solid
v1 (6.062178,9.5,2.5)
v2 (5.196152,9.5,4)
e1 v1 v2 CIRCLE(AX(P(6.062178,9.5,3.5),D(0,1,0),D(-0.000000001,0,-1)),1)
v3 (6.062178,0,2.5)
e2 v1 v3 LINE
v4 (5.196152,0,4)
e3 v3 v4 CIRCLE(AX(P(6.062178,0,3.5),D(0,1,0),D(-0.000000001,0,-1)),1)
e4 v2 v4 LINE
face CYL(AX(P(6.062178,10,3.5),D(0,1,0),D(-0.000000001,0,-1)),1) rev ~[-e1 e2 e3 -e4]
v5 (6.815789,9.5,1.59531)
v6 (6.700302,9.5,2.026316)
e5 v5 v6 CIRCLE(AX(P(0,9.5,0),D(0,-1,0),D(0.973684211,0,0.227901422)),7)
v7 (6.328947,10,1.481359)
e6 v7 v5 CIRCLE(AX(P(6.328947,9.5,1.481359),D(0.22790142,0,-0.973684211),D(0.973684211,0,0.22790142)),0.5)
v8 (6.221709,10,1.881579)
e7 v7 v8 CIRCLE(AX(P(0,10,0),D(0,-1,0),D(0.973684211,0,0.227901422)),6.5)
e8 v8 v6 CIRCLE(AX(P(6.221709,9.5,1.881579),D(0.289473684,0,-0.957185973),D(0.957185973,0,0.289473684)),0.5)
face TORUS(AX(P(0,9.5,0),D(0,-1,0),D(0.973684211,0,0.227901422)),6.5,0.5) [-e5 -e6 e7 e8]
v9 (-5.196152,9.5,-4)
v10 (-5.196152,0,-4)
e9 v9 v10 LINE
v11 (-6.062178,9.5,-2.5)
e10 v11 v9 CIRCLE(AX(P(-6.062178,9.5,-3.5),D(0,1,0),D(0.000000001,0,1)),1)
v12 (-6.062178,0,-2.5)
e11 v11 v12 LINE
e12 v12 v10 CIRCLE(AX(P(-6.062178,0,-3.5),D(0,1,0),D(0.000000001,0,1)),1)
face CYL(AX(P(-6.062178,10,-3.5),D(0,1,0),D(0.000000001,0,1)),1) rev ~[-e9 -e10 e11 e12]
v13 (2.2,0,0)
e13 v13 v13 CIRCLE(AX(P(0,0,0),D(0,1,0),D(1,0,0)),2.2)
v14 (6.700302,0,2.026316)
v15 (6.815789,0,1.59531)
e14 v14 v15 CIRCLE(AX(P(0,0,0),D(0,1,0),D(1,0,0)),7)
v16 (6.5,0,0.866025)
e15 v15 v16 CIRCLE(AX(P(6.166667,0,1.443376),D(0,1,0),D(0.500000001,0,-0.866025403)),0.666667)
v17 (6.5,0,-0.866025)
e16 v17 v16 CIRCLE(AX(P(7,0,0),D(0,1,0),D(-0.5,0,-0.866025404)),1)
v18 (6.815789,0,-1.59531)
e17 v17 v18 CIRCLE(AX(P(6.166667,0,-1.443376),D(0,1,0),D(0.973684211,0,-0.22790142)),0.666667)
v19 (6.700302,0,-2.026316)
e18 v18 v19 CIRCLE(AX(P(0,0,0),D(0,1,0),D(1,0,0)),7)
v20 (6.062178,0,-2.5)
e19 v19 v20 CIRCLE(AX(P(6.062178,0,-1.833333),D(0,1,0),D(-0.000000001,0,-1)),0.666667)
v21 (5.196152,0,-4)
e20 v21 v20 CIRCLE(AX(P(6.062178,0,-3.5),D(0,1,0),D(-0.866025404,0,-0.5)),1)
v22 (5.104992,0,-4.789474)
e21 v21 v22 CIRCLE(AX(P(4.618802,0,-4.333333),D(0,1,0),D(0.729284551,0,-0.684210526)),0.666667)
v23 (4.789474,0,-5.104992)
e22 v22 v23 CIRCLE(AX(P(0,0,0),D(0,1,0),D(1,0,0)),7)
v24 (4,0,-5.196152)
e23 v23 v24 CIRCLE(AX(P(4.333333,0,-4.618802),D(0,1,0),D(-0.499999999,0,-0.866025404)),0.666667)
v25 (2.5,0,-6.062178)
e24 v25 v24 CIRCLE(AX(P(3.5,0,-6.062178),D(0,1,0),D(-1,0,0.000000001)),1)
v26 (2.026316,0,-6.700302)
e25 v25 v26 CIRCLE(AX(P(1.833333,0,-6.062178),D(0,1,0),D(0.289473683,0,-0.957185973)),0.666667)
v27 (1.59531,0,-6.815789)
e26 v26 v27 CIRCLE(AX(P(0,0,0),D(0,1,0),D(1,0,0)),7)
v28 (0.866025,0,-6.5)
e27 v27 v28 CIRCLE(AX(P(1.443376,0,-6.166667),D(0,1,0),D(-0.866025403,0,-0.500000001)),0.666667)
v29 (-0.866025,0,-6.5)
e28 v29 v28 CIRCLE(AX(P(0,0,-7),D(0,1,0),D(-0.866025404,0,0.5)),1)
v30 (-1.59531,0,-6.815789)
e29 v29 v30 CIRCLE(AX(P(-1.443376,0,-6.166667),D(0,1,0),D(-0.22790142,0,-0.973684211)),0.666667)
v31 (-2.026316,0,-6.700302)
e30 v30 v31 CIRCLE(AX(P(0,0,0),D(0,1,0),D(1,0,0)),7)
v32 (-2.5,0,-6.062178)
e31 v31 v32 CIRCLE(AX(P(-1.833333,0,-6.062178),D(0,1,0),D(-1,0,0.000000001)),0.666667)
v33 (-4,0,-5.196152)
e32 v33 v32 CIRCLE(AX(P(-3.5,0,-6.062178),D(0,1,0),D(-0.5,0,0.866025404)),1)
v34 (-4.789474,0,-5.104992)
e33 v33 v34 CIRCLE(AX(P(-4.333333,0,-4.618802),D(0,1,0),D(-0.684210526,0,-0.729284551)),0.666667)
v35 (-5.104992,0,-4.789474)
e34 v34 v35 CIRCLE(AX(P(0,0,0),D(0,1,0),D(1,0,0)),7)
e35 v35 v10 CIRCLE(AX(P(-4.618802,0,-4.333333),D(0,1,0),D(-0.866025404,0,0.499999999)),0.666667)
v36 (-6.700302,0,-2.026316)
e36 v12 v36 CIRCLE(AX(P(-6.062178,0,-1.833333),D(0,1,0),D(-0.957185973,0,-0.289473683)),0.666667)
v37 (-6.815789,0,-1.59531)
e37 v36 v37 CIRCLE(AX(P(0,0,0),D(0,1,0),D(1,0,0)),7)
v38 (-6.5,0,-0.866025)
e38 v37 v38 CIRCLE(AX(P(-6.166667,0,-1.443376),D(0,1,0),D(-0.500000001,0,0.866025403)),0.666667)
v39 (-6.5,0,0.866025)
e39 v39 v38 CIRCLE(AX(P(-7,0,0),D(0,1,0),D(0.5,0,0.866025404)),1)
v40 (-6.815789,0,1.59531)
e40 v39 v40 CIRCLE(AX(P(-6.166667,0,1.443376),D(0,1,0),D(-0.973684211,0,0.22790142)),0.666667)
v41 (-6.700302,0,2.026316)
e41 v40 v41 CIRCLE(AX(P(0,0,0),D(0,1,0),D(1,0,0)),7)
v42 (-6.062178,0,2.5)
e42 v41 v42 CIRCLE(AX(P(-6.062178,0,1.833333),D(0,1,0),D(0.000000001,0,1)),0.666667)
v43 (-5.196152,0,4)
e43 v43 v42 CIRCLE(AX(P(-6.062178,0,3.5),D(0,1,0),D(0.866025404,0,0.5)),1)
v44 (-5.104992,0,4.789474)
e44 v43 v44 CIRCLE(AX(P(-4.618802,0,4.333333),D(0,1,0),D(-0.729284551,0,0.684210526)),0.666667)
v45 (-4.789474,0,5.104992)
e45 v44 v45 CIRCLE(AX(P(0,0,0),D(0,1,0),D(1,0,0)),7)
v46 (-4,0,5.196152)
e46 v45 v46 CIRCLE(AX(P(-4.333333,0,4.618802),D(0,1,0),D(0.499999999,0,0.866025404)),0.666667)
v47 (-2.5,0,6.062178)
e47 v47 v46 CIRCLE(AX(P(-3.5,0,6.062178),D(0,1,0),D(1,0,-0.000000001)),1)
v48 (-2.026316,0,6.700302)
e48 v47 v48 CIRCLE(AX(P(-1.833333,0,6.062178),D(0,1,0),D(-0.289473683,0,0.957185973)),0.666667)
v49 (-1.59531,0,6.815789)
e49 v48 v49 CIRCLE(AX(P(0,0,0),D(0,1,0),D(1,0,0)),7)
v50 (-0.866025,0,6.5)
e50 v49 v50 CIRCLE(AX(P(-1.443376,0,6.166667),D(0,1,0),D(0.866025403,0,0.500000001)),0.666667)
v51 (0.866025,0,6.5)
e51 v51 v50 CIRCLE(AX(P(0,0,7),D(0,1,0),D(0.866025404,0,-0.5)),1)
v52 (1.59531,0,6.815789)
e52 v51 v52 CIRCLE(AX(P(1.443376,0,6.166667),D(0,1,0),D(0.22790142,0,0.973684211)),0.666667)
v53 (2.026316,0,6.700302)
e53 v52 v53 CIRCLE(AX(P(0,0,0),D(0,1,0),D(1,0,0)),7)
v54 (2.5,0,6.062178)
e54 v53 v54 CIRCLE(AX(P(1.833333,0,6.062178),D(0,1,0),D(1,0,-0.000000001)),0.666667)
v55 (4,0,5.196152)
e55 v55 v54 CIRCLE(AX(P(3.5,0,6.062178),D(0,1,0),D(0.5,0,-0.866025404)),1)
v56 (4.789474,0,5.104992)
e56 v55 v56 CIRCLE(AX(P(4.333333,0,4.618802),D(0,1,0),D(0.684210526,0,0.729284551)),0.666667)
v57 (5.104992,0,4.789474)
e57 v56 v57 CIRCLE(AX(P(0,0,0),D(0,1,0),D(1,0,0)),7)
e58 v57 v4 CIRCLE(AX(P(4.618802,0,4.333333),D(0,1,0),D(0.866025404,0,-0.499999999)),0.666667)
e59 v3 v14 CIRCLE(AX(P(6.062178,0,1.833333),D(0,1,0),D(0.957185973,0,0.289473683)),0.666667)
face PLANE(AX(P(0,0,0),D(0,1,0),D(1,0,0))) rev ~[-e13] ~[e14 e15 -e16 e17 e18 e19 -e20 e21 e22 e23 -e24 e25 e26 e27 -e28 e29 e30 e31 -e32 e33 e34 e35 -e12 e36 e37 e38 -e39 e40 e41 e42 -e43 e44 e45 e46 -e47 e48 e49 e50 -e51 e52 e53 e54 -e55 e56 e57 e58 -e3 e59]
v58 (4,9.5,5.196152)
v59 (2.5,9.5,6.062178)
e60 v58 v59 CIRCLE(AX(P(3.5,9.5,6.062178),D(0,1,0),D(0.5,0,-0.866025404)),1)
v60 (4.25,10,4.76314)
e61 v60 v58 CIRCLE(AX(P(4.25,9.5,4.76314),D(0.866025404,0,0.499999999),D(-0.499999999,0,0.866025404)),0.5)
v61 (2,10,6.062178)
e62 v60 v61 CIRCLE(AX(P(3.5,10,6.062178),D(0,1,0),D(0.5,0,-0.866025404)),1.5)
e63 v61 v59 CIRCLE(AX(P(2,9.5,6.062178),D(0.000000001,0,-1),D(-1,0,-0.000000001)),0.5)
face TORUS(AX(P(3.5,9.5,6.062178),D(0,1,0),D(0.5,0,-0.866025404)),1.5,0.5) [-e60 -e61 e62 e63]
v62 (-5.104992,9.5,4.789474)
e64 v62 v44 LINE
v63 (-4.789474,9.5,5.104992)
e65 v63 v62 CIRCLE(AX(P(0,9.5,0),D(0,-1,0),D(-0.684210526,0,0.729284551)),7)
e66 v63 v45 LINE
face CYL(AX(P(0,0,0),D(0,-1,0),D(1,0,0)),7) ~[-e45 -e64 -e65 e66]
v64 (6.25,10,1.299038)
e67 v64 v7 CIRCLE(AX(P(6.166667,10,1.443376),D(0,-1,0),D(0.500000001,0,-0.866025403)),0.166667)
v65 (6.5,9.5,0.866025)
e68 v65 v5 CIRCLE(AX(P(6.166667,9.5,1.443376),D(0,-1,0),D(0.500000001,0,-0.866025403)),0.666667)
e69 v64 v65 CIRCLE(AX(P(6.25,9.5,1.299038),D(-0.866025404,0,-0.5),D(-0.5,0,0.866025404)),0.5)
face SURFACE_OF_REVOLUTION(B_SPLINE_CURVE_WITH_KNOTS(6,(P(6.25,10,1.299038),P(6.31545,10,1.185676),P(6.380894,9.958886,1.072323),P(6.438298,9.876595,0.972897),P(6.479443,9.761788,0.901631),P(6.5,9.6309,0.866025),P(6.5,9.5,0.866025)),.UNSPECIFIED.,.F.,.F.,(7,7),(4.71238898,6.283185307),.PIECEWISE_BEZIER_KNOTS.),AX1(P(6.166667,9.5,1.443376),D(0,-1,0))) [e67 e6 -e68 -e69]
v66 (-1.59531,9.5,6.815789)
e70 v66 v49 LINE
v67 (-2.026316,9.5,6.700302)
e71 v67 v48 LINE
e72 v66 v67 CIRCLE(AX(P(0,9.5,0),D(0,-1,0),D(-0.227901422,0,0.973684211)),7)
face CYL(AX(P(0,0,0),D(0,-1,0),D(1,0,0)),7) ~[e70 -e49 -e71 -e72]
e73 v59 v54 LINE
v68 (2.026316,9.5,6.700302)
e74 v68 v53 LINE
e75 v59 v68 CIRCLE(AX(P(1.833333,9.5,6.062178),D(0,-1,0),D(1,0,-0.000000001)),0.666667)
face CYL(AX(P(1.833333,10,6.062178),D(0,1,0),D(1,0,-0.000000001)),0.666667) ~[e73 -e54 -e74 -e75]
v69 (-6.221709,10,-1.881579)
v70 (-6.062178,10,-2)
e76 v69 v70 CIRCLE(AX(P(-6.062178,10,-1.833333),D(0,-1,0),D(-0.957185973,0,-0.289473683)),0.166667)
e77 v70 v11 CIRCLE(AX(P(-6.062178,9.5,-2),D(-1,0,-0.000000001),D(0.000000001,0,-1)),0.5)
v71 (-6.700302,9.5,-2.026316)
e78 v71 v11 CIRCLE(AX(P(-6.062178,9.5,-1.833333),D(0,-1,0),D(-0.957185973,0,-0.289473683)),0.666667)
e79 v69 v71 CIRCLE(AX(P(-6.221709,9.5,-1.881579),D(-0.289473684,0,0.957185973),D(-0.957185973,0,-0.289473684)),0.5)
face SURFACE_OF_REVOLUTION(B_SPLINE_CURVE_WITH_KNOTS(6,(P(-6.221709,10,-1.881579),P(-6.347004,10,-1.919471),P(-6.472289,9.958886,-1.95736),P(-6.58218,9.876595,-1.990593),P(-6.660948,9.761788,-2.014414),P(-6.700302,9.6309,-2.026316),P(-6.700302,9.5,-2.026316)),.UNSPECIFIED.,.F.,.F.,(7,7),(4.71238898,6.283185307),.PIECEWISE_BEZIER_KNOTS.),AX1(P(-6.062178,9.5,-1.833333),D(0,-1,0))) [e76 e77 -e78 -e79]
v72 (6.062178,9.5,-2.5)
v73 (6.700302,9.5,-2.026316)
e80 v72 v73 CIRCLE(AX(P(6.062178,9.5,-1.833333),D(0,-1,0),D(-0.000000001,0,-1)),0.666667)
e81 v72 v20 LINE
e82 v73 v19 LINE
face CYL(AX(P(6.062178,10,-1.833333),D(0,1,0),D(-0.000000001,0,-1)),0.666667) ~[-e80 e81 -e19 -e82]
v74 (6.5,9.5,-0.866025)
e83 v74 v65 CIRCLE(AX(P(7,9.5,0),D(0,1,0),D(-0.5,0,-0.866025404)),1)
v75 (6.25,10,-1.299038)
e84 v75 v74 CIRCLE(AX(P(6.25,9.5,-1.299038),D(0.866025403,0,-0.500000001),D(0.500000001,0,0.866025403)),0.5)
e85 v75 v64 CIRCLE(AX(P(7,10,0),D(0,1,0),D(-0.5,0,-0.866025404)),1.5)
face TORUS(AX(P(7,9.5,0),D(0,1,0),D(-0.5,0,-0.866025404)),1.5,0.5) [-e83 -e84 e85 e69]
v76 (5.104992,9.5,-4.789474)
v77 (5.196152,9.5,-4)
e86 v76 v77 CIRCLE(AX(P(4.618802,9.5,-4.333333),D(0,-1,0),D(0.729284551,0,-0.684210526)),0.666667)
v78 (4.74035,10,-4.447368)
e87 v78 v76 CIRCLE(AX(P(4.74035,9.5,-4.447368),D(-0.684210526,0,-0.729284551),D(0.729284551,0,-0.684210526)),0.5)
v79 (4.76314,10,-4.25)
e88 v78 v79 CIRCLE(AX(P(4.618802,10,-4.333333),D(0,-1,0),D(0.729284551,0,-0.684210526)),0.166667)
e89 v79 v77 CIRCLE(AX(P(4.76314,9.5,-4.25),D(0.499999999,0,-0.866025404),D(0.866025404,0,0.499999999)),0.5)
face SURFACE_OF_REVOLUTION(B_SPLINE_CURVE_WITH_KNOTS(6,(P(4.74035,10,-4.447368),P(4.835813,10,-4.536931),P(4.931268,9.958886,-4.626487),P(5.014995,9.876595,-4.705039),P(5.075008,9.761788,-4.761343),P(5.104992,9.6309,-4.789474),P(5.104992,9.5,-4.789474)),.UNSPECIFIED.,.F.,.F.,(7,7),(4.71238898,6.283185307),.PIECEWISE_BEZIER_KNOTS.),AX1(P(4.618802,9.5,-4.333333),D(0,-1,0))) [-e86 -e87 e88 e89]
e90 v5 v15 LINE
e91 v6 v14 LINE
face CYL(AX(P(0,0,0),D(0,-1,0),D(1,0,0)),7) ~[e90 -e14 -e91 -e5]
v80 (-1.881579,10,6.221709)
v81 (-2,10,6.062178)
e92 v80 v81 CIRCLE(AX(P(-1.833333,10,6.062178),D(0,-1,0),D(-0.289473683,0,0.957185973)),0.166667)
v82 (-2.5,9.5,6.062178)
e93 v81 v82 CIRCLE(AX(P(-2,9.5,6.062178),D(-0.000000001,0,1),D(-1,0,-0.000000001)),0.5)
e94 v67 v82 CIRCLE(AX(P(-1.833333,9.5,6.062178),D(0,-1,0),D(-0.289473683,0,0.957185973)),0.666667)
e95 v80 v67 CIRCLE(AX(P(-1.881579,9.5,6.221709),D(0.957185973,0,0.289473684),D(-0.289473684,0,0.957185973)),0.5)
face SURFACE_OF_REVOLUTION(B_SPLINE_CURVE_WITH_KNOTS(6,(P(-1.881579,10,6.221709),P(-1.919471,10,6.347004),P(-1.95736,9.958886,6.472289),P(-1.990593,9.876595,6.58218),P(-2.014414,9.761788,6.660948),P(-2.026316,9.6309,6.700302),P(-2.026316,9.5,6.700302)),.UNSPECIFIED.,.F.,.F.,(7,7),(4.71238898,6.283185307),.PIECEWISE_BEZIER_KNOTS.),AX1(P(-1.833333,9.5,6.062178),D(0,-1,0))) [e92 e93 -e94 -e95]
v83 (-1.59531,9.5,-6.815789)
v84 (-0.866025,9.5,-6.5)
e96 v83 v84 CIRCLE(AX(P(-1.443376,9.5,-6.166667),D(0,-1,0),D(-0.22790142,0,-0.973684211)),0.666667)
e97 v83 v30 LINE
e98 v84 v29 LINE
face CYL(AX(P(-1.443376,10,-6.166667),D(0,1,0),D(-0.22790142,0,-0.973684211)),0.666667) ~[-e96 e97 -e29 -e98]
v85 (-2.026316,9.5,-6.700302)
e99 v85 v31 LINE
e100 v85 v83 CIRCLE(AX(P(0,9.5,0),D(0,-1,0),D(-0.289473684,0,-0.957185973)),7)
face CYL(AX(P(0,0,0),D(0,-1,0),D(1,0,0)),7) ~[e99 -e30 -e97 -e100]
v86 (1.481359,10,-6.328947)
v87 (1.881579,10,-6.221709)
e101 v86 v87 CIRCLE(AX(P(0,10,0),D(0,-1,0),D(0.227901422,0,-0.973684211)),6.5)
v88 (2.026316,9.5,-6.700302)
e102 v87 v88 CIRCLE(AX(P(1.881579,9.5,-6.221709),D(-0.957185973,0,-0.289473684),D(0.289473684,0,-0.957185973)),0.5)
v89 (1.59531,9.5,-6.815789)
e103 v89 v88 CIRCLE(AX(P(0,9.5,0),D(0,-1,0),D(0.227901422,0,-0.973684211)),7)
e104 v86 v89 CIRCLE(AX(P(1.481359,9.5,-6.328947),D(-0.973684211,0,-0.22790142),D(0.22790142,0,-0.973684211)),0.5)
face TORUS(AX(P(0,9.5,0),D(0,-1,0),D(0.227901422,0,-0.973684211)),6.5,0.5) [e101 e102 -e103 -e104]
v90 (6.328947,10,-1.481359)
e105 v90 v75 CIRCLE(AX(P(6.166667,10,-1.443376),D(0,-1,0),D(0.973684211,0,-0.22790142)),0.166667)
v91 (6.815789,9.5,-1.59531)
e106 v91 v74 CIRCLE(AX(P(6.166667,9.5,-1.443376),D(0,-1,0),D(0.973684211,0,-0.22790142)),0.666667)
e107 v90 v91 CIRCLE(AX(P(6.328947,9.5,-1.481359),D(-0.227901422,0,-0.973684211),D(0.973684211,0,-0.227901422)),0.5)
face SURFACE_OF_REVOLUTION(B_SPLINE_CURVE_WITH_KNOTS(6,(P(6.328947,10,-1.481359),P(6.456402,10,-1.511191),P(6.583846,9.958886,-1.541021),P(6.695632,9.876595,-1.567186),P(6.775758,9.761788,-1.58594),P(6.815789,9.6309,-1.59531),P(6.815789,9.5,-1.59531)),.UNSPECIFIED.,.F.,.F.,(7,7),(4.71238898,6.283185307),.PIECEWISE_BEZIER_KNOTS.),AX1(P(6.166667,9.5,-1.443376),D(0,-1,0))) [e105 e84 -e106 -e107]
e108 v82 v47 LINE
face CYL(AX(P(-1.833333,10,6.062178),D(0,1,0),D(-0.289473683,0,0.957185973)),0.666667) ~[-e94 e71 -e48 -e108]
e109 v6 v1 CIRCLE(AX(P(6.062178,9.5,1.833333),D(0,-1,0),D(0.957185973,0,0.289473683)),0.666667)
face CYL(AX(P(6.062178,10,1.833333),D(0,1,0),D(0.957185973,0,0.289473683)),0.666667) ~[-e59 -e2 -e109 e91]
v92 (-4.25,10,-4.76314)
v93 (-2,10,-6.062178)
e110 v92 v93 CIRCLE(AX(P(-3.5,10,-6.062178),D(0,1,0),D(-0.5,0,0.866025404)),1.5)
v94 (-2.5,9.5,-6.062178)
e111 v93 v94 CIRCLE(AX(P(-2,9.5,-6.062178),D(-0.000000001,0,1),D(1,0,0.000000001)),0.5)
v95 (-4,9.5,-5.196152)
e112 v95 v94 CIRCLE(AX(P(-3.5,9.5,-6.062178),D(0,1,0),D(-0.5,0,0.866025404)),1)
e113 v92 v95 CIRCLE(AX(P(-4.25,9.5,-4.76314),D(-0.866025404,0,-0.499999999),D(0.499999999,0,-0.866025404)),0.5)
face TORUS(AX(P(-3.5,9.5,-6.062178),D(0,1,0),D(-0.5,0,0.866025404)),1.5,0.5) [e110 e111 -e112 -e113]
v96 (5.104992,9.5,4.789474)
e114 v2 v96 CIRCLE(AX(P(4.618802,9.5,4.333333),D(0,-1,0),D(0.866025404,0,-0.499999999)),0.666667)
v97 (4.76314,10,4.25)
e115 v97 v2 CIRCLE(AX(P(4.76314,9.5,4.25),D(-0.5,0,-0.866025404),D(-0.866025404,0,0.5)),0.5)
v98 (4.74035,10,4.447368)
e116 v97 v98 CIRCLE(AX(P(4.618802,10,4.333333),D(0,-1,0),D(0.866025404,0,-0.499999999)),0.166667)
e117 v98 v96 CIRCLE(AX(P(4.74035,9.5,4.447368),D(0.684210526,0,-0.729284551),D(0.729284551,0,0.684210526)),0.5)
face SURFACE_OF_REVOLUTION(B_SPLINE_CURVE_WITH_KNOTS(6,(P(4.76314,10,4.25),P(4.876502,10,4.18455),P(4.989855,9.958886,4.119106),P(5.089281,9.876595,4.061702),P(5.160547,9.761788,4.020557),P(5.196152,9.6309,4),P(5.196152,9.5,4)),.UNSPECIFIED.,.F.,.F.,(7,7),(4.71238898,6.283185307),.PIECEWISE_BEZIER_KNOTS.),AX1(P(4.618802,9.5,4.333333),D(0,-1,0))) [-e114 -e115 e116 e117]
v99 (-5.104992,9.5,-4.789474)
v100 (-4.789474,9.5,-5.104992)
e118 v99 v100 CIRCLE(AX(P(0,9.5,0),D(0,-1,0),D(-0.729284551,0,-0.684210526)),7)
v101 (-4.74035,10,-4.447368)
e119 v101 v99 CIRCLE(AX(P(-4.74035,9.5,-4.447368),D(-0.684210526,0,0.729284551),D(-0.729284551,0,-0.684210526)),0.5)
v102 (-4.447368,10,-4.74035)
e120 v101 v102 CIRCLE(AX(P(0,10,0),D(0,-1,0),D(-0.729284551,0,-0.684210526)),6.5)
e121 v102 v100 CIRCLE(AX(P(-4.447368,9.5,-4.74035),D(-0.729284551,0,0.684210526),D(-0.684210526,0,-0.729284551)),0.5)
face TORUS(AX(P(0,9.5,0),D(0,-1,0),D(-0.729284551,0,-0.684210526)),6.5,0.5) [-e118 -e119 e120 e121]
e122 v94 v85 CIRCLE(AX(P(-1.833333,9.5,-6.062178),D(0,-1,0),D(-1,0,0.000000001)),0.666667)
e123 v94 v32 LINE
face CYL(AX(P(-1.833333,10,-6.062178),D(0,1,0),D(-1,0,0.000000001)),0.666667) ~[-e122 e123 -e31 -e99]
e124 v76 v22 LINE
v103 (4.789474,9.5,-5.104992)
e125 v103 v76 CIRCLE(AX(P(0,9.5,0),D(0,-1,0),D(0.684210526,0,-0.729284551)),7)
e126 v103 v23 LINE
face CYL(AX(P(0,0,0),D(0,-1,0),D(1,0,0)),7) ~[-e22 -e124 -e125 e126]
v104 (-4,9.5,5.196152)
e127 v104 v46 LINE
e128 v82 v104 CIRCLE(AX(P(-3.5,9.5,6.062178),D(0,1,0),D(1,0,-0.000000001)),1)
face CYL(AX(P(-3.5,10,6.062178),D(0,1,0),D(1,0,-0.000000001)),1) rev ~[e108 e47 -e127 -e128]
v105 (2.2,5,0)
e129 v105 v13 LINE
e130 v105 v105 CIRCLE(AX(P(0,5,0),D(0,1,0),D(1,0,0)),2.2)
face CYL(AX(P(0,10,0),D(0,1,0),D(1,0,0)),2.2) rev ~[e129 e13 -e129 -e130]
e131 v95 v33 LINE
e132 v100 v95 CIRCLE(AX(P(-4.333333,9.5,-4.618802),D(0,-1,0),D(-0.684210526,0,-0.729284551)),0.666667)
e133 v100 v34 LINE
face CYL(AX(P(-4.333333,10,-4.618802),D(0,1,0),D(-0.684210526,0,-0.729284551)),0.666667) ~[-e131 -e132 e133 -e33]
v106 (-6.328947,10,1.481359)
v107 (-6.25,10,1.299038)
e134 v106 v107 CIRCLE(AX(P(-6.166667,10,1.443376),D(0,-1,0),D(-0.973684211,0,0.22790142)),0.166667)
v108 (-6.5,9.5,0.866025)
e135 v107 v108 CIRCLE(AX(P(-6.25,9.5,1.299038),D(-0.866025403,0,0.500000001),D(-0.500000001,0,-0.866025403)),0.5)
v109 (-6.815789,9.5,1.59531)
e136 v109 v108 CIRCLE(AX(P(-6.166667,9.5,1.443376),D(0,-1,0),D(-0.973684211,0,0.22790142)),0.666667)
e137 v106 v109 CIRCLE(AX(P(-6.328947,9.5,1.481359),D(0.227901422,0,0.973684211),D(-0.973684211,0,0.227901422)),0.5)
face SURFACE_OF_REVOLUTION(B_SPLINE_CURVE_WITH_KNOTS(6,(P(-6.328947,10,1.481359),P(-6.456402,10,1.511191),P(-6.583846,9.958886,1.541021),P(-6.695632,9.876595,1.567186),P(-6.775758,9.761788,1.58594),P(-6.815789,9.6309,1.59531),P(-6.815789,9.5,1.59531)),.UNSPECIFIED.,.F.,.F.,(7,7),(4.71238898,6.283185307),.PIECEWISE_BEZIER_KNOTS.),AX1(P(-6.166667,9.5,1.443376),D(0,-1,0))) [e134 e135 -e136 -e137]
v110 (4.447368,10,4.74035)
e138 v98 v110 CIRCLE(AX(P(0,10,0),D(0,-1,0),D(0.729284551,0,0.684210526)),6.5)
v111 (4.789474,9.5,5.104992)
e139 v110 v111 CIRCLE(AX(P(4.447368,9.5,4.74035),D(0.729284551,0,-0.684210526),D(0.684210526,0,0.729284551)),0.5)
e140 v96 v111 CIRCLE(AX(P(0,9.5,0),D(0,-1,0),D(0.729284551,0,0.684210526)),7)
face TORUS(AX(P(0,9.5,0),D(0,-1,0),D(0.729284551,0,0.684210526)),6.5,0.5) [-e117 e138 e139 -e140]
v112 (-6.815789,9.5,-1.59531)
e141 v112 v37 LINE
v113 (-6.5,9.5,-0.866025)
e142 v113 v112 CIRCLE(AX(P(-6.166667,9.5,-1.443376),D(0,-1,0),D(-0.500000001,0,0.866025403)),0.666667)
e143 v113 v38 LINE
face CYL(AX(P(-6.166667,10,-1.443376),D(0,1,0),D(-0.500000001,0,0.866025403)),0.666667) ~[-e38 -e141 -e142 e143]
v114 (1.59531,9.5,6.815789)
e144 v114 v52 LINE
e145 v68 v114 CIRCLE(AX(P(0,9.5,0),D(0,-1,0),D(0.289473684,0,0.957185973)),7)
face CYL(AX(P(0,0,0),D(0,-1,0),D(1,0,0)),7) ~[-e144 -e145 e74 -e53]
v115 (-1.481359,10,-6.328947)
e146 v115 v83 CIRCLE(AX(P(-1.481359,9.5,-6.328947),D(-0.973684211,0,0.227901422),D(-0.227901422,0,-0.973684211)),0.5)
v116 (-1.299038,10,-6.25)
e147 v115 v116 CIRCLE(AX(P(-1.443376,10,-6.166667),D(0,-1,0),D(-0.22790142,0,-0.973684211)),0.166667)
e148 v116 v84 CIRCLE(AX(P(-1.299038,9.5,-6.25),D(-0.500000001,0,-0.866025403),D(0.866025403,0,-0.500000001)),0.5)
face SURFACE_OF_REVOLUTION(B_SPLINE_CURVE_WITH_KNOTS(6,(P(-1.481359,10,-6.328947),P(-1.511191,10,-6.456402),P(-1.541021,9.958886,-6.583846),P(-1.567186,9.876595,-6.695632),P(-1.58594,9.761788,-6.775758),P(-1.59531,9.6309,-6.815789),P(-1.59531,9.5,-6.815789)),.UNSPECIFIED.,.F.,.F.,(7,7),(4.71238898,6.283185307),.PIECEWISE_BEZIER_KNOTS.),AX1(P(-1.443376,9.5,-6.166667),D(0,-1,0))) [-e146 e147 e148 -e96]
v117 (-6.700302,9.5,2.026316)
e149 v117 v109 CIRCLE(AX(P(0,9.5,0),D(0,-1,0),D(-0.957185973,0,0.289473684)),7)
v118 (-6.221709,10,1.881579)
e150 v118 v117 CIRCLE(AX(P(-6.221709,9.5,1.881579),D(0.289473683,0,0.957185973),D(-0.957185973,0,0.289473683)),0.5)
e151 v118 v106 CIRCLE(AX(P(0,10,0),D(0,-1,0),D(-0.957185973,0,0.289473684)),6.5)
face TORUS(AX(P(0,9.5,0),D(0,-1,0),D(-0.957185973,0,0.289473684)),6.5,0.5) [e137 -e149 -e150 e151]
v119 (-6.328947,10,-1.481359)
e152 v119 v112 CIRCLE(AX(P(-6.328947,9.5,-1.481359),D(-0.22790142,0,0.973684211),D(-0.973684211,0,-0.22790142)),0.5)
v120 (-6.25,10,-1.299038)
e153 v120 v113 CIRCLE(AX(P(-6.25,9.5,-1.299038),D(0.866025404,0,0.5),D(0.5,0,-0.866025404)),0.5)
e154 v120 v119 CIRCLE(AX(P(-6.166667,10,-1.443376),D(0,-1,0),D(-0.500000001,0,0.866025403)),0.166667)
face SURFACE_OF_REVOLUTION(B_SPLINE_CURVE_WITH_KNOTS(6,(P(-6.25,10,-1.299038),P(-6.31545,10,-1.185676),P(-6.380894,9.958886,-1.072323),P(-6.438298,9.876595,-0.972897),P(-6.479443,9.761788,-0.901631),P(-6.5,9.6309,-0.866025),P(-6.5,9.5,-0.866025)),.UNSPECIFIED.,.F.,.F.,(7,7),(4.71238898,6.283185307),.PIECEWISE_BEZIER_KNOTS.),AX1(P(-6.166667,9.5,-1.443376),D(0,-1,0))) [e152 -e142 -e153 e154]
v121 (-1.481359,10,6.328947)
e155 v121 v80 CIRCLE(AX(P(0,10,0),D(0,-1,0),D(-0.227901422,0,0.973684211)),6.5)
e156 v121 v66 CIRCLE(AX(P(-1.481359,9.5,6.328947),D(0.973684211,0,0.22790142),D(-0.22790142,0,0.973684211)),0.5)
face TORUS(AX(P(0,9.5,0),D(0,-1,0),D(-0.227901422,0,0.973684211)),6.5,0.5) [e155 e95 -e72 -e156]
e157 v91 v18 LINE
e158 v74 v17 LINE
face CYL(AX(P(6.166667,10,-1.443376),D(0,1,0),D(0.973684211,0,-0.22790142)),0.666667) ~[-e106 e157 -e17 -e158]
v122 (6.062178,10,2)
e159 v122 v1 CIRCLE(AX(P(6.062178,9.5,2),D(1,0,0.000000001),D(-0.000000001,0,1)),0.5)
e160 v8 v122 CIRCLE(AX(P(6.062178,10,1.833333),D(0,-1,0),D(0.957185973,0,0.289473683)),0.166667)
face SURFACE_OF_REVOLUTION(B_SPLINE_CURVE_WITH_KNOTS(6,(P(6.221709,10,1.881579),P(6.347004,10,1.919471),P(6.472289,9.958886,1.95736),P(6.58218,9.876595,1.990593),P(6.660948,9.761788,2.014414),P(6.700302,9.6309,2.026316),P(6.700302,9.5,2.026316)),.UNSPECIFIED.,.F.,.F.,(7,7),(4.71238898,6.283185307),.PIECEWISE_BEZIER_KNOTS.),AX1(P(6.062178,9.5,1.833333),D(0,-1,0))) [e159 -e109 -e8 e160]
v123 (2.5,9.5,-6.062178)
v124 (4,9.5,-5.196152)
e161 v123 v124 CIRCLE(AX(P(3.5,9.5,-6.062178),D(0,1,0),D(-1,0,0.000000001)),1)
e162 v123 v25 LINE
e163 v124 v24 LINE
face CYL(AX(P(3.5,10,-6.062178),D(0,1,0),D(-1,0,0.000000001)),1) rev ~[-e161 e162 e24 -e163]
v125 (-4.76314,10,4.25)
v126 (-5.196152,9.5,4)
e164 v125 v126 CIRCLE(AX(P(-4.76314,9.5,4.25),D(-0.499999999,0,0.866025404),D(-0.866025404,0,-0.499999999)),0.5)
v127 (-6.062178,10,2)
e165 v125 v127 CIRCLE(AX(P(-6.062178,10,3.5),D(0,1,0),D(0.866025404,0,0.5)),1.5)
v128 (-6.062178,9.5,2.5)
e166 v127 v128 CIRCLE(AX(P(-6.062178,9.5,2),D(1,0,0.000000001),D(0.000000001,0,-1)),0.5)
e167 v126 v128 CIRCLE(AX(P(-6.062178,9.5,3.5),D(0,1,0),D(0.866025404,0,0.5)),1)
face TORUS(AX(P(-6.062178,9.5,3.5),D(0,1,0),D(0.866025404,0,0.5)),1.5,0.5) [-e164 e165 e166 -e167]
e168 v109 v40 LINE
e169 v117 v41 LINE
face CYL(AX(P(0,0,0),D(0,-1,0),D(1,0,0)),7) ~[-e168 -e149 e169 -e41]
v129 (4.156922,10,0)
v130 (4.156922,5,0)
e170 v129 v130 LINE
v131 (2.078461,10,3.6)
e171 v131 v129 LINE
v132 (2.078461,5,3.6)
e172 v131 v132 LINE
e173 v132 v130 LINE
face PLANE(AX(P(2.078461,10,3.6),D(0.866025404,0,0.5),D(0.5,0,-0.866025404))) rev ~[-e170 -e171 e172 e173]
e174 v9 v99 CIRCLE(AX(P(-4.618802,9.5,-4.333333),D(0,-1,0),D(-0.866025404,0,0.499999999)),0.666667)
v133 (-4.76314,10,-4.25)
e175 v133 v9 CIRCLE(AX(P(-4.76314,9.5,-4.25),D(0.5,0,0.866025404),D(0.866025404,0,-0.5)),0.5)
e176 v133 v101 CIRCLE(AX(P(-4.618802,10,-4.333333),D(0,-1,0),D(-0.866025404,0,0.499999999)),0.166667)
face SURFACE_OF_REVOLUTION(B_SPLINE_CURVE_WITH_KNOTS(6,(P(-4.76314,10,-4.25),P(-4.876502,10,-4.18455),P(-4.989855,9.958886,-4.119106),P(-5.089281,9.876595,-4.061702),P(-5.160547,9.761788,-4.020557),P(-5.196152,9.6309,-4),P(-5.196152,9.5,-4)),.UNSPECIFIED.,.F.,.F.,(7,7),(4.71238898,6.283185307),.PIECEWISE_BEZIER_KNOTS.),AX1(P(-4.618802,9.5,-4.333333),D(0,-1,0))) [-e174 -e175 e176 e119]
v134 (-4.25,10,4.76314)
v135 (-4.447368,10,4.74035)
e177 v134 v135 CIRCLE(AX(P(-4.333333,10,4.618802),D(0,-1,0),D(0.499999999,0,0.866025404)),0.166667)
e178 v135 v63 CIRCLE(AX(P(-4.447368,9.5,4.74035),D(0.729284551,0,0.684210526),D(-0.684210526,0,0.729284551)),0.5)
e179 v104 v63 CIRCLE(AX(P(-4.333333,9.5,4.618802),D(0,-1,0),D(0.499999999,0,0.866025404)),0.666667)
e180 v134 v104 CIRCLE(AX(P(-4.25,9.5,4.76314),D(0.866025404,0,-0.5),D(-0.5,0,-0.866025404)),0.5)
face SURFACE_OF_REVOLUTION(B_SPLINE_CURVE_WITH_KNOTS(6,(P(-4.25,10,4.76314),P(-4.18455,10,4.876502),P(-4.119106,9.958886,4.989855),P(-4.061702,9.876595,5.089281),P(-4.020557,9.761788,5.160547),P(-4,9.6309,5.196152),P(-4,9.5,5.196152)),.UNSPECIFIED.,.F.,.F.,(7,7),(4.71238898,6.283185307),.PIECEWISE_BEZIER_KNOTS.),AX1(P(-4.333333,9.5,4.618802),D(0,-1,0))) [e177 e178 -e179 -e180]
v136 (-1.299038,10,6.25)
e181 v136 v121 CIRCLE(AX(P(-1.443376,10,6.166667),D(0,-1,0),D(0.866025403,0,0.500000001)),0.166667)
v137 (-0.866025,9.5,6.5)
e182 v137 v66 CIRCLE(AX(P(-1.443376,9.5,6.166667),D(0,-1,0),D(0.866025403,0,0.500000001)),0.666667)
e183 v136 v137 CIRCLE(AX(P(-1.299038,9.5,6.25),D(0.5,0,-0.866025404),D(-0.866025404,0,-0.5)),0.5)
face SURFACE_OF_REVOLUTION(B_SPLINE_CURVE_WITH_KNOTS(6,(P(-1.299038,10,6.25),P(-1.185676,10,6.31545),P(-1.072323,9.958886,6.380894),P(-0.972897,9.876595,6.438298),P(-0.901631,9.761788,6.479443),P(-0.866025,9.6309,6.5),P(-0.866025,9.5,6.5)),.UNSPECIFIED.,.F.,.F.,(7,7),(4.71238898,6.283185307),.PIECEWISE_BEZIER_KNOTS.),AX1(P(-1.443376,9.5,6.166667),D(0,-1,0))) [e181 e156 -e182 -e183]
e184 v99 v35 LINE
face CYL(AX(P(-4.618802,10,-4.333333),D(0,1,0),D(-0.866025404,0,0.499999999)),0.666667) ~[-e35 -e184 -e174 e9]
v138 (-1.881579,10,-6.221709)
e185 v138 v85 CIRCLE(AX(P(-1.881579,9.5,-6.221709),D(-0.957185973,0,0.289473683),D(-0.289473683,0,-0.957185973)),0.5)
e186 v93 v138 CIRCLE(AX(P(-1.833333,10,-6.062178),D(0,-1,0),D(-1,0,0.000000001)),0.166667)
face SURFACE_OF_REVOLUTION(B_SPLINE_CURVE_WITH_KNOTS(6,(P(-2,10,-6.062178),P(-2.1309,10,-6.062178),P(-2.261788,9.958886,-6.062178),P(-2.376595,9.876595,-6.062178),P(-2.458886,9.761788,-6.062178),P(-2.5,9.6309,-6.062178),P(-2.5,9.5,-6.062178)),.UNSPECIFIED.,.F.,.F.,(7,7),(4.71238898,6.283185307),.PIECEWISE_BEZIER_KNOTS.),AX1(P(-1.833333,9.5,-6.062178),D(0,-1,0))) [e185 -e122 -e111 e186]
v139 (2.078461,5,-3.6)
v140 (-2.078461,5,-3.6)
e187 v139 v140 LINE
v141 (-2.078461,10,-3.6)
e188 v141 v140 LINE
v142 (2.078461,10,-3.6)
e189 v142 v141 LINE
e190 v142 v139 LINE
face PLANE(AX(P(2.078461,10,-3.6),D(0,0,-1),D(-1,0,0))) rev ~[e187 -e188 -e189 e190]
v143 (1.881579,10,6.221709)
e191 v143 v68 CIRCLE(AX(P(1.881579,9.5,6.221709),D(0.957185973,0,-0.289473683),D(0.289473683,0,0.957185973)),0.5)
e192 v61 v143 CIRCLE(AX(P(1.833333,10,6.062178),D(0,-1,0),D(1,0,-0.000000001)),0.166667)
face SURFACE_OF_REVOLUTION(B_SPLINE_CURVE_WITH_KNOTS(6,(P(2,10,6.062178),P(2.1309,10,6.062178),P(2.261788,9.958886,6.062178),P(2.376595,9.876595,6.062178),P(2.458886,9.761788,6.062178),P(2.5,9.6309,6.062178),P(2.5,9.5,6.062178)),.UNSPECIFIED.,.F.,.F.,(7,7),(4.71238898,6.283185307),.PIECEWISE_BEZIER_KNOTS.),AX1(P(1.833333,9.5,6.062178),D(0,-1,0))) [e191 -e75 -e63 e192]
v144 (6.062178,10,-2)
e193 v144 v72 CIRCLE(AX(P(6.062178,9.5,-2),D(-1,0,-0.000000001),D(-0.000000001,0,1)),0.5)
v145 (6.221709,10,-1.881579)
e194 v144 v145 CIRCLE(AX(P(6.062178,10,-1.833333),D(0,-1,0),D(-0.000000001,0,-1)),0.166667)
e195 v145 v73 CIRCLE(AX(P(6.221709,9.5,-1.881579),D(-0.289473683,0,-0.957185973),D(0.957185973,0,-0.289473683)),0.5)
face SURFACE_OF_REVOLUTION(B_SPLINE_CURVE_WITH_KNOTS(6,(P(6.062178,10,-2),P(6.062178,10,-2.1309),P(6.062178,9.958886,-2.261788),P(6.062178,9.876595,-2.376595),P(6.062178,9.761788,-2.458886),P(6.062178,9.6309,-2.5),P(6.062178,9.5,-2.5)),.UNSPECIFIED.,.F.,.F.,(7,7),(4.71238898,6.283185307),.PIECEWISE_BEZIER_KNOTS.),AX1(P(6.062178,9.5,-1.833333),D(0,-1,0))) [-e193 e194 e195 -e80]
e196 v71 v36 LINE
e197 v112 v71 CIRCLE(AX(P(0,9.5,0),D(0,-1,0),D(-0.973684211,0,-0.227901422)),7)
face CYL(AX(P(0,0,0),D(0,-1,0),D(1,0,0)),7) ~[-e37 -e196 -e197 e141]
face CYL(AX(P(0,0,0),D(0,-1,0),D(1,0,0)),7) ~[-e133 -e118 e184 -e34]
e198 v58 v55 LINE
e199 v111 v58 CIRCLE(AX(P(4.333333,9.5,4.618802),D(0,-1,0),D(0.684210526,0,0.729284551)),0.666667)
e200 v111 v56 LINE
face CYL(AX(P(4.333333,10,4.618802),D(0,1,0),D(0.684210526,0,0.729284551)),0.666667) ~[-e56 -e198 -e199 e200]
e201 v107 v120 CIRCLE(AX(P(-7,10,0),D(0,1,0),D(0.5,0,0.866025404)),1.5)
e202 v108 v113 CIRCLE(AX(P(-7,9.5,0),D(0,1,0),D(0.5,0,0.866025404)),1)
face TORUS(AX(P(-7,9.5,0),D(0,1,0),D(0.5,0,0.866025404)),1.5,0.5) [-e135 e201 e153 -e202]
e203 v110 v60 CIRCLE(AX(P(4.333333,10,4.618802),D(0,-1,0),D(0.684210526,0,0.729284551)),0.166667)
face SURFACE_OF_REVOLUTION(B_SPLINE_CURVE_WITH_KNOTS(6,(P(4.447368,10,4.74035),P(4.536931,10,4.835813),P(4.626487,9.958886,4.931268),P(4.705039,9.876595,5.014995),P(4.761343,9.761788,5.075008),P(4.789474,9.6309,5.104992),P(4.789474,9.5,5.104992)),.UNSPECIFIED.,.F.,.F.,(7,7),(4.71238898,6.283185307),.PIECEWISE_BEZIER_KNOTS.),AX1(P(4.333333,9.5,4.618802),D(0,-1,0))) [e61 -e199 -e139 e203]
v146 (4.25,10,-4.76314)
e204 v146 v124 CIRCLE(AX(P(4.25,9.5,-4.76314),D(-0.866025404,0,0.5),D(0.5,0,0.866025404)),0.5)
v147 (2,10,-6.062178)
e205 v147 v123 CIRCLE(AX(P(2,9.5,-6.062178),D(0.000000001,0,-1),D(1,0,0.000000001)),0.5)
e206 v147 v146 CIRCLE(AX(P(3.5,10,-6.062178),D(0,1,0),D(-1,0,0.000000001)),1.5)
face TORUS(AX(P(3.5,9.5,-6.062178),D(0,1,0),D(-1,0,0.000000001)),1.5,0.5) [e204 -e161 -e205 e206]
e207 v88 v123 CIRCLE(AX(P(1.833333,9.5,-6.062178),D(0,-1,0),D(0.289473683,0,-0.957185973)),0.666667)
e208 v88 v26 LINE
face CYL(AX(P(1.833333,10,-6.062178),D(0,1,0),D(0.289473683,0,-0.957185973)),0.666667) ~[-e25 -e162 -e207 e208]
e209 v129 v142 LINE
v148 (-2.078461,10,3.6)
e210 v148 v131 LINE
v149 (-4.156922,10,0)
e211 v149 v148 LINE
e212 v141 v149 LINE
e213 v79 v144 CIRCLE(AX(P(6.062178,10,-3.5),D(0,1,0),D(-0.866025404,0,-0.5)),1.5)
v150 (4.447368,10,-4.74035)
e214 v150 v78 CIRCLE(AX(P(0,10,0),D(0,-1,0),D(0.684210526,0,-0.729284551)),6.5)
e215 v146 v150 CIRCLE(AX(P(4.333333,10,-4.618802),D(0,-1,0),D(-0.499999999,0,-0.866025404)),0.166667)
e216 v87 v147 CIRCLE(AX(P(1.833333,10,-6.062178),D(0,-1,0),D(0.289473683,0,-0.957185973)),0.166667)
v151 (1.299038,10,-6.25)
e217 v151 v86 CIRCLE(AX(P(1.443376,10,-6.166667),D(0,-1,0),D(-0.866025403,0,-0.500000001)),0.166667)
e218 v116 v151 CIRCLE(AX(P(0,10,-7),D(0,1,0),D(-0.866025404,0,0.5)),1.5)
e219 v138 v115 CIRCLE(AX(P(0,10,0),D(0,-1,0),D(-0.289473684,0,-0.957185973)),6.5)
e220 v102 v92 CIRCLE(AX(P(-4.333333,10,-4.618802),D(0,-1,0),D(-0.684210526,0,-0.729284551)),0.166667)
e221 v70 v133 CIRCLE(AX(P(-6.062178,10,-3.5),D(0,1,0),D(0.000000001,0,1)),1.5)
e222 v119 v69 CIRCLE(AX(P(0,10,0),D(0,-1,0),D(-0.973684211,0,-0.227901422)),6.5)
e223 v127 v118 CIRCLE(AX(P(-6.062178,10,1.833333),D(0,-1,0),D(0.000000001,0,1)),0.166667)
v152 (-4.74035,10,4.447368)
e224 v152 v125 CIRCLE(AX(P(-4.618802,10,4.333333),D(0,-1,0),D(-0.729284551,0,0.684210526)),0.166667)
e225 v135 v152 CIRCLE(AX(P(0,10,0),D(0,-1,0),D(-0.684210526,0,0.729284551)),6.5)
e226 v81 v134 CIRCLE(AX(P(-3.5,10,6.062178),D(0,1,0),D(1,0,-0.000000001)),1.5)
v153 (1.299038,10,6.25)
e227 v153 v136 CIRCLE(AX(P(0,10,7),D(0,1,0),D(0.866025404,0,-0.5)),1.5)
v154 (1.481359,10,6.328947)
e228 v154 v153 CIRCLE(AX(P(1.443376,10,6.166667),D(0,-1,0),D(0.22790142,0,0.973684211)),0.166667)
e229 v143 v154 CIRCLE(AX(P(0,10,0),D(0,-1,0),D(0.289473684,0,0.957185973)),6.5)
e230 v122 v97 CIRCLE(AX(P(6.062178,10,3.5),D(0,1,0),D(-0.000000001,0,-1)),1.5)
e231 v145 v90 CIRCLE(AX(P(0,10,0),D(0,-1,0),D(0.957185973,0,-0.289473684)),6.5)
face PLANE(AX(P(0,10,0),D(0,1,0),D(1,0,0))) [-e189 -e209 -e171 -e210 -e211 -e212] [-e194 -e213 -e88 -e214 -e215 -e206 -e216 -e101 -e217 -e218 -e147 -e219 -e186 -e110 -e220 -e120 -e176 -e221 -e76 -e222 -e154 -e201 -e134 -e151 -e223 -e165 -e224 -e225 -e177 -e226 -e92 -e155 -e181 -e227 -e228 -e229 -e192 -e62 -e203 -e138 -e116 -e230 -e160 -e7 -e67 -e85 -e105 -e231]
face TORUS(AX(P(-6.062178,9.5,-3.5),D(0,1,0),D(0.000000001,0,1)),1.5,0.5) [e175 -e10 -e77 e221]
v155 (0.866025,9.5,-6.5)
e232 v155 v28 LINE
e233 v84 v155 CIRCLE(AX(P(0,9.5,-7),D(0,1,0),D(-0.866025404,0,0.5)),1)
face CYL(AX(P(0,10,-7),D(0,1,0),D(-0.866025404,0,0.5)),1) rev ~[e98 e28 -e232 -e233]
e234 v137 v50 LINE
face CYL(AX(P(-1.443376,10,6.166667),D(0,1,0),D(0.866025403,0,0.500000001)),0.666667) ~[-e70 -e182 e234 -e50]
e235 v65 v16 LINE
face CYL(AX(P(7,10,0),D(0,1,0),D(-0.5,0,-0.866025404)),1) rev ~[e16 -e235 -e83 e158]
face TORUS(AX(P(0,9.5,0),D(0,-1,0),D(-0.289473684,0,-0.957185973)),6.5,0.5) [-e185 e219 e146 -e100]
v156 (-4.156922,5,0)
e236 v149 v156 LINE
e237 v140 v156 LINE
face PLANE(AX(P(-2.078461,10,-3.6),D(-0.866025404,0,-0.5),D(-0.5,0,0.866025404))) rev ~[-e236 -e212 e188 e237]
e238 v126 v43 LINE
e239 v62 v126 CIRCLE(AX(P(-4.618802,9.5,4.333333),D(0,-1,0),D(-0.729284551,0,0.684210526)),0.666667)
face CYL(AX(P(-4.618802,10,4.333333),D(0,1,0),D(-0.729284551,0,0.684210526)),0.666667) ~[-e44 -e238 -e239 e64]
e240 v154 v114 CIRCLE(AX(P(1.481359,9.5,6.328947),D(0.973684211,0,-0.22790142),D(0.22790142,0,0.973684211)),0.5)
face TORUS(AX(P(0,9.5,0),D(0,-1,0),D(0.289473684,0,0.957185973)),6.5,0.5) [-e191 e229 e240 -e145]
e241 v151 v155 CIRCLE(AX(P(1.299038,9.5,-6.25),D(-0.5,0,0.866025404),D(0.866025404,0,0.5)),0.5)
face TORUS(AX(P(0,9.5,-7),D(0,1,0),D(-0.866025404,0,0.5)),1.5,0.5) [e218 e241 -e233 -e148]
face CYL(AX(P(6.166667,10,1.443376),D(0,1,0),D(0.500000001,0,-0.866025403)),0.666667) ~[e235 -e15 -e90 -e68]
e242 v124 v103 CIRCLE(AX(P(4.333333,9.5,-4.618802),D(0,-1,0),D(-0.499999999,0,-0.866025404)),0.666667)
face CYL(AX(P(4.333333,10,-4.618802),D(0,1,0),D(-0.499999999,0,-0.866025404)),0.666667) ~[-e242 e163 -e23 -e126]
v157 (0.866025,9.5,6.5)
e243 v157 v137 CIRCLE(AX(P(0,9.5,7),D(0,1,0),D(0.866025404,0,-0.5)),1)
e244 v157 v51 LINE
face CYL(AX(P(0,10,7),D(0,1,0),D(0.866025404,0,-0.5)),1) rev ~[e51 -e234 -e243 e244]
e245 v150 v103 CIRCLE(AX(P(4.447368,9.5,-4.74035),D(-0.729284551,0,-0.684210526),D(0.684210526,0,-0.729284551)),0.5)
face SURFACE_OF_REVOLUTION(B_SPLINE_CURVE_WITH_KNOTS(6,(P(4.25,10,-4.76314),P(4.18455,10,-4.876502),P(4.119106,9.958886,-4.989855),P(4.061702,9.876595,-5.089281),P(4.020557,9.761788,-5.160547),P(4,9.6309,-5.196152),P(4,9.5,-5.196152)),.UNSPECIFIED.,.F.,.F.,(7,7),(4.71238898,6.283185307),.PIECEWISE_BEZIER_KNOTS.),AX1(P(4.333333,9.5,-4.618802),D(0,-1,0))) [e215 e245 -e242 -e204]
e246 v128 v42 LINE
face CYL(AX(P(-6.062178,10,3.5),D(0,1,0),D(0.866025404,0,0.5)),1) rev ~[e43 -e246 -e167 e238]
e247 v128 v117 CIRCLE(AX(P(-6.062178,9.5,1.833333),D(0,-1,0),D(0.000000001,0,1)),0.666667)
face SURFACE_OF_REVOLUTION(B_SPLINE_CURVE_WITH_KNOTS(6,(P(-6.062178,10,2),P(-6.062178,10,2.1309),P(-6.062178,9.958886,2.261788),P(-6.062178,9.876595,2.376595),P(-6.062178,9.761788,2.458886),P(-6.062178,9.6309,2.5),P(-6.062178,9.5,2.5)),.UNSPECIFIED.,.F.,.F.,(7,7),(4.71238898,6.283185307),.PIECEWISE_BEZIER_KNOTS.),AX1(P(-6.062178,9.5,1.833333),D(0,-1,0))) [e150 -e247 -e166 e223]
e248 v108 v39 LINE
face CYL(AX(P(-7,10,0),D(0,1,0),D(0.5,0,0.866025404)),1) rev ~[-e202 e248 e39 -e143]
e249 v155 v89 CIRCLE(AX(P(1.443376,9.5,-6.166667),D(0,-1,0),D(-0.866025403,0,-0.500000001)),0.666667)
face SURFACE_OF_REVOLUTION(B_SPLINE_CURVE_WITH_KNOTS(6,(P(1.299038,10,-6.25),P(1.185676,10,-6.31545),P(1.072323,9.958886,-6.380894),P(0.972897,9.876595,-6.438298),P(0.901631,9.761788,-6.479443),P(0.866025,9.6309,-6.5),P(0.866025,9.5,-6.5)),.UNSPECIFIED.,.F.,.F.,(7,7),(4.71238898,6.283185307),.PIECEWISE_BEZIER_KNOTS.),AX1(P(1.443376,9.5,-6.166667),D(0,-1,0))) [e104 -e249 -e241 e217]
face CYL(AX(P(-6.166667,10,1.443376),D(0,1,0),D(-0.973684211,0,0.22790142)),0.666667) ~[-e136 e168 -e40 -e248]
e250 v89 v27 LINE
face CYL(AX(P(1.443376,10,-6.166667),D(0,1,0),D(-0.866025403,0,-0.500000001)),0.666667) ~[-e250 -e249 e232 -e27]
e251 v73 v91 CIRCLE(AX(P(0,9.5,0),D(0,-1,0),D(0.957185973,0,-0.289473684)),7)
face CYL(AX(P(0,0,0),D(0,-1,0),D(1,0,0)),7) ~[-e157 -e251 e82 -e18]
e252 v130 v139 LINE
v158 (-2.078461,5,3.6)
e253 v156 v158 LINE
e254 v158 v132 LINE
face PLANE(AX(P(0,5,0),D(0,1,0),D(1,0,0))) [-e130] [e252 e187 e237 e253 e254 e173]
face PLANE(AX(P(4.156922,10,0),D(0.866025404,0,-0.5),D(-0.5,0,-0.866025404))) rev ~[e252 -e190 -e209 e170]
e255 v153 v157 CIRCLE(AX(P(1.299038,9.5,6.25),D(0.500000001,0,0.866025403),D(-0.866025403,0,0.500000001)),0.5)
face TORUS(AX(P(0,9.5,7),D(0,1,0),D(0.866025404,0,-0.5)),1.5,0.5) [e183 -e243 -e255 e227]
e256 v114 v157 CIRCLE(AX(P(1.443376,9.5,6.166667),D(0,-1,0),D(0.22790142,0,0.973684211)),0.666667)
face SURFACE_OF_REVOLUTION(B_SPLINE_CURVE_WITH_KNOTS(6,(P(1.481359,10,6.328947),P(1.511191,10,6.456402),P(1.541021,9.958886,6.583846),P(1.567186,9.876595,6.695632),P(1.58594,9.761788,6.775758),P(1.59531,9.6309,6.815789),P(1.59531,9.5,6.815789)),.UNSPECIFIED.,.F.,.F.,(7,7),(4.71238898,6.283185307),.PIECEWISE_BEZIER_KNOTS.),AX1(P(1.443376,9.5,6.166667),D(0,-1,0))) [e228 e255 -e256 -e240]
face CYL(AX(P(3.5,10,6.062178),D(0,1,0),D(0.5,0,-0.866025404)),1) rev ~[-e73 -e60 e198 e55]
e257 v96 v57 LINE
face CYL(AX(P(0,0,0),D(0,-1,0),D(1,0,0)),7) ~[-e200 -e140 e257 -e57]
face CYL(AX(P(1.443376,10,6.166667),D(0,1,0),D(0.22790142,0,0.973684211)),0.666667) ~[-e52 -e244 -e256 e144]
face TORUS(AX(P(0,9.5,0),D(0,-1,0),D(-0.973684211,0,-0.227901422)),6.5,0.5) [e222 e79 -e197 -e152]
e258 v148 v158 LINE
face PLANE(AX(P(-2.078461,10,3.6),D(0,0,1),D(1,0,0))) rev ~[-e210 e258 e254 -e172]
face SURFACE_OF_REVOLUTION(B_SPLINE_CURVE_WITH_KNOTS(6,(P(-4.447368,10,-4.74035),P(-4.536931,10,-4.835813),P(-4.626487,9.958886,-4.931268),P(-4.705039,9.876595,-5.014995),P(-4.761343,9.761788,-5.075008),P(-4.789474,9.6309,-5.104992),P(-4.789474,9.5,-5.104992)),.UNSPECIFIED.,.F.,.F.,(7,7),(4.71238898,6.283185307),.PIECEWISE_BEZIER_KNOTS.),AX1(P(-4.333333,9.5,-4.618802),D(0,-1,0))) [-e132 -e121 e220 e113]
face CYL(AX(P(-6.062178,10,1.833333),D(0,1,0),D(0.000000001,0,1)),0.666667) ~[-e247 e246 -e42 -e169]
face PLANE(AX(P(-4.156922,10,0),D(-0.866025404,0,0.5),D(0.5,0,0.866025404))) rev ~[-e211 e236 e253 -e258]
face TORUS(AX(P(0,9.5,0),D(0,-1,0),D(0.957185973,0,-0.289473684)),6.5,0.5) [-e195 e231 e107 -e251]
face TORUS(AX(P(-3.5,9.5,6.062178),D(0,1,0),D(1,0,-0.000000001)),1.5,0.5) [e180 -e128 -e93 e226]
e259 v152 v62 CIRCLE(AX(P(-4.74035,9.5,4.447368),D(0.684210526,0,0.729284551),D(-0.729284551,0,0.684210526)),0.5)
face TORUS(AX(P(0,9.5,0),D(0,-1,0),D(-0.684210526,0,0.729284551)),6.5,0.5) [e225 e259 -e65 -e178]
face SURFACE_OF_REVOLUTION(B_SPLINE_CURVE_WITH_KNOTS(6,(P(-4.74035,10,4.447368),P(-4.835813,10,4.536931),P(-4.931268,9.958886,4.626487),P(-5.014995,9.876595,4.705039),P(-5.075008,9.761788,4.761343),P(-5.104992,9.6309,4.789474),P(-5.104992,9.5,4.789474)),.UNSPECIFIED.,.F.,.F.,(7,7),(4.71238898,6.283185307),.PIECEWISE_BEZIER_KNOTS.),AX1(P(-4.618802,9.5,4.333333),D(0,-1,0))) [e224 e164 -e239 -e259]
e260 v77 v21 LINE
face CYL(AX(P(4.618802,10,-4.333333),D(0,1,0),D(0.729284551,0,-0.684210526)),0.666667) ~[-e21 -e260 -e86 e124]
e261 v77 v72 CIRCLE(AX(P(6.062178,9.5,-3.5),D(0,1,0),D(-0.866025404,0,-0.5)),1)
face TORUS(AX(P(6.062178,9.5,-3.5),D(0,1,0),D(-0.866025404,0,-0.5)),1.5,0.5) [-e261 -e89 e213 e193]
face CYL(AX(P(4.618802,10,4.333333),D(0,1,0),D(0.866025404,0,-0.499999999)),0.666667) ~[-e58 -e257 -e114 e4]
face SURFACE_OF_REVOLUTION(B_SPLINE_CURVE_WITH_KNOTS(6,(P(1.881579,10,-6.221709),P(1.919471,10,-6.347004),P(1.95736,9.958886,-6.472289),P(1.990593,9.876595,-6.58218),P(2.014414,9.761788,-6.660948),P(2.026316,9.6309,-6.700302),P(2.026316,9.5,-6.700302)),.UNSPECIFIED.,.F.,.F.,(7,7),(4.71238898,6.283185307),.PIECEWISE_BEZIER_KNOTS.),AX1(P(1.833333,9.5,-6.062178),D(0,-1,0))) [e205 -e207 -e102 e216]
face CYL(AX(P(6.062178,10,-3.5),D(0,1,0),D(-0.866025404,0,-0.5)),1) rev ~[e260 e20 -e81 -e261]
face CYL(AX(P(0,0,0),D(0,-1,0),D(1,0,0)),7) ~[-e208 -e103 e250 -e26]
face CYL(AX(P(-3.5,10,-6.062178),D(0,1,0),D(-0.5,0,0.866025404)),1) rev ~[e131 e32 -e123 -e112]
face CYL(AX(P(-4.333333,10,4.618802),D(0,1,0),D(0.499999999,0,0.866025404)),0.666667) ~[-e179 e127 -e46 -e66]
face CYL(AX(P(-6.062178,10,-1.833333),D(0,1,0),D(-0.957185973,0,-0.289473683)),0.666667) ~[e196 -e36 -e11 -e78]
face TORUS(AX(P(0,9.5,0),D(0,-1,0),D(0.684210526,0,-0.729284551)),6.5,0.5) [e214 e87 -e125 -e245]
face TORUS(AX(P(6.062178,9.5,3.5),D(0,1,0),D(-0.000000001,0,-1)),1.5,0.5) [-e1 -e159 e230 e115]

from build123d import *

# Parameters (mm, degrees)
SKETCH1_R                = 7
BODY_DEPTH               = 10
MOUNTING_HOLE_REACH      = 12
SKETCH2_R                = 2.2
NUT_COUNTERBORE_DEPTH    = 5
KNURL_CUTTING_TOOL_DEPTH = 11
FILLET1_R                = 0.5


with BuildPart() as part:
    # Sketch1 → Body (new body)
    with BuildSketch(Plane(origin=(0, 0, 0), x_dir=(1, 0, 0), z_dir=(0, 1, 0))):
        Circle(SKETCH1_R)
    extrude(amount=BODY_DEPTH)

    # Sketch2 → Mounting Hole (cut, up to next)
    with BuildSketch(Plane(origin=(0, 10, 0), x_dir=(1, 0, 0), z_dir=(0, 1, 0)), mode=Mode.PRIVATE) as mounting_hole_sk1:
        Circle(SKETCH2_R)
    mounting_hole_tool1 = extrude(mounting_hole_sk1.sketch, amount=-MOUNTING_HOLE_REACH, mode=Mode.PRIVATE) & part.part
    add(mounting_hole_tool1.solids().sort_by_distance((0, 10, 0))[0], mode=Mode.SUBTRACT)

    # Sketch3 → Nut Counterbore (cut)
    with BuildSketch(Plane(origin=(0, 10, 0), x_dir=(1, 0, 0), z_dir=(0, 1, 0))):
        Polygon((2.078460969, 3.6), (-2.078460969, 3.6), (-4.156921938, 0), (-2.078460969, -3.6), (2.078460969, -3.6), (4.156921938, 0), align=None)
    extrude(amount=-NUT_COUNTERBORE_DEPTH, mode=Mode.SUBTRACT)

    # Sketch5 → Knurl Cutting Tool (cut, through all)
    with BuildSketch(Plane(origin=(0, 10, 0), x_dir=(1, 0, 0), z_dir=(0, 1, 0))):
        with BuildLine():
            ThreePointArc((-0.866025404, 6.5), (0, 6), (0.866025404, 6.5))
            ThreePointArc((0.866025404, 6.5), (1.178469202, 6.778441957), (1.595309954, 6.815789474))
            ThreePointArc((1.595309954, 6.815789474), (0, 7), (-1.595309954, 6.815789474))
            ThreePointArc((-1.595309954, 6.815789474), (-1.178469202, 6.778441957), (-0.866025404, 6.5))
        make_face()
        with BuildLine():
            ThreePointArc((2.5, 6.062177826), (3, 5.196152423), (4, 5.196152423))
            ThreePointArc((4, 5.196152423), (4.409805245, 5.281068332), (4.789473684, 5.104991854))
            ThreePointArc((4.789473684, 5.104991854), (3.5, 6.062177826), (2.026315789, 6.700301808))
            ThreePointArc((2.026315789, 6.700301808), (2.368636712, 6.459537534), (2.5, 6.062177826))
        make_face()
        with BuildLine():
            ThreePointArc((5.196152423, 4), (5.196152423, 3), (6.062177826, 2.5))
            ThreePointArc((6.062177826, 2.5), (6.459537534, 2.368636712), (6.700301808, 2.026315789))
            ThreePointArc((6.700301808, 2.026315789), (6.062177826, 3.5), (5.104991854, 4.789473684))
            ThreePointArc((5.104991854, 4.789473684), (5.281068332, 4.409805245), (5.196152423, 4))
        make_face()
        with BuildLine():
            ThreePointArc((6.5, 0.866025404), (6, 0), (6.5, -0.866025404))
            ThreePointArc((6.5, -0.866025404), (6.778441957, -1.178469202), (6.815789474, -1.595309954))
            ThreePointArc((6.815789474, -1.595309954), (7, 0), (6.815789474, 1.595309954))
            ThreePointArc((6.815789474, 1.595309954), (6.778441957, 1.178469202), (6.5, 0.866025404))
        make_face()
        with BuildLine():
            ThreePointArc((6.062177826, -2.5), (5.196152423, -3), (5.196152423, -4))
            ThreePointArc((5.196152423, -4), (5.281068332, -4.409805245), (5.104991854, -4.789473684))
            ThreePointArc((5.104991854, -4.789473684), (6.062177826, -3.5), (6.700301808, -2.026315789))
            ThreePointArc((6.700301808, -2.026315789), (6.459537534, -2.368636712), (6.062177826, -2.5))
        make_face()
        with BuildLine():
            ThreePointArc((4, -5.196152423), (3, -5.196152423), (2.5, -6.062177826))
            ThreePointArc((2.5, -6.062177826), (2.368636712, -6.459537534), (2.026315789, -6.700301808))
            ThreePointArc((2.026315789, -6.700301808), (3.5, -6.062177826), (4.789473684, -5.104991854))
            ThreePointArc((4.789473684, -5.104991854), (4.409805245, -5.281068332), (4, -5.196152423))
        make_face()
        with BuildLine():
            ThreePointArc((0.866025404, -6.5), (0, -6), (-0.866025404, -6.5))
            ThreePointArc((-0.866025404, -6.5), (-1.178469202, -6.778441957), (-1.595309954, -6.815789474))
            ThreePointArc((-1.595309954, -6.815789474), (0, -7), (1.595309954, -6.815789474))
            ThreePointArc((1.595309954, -6.815789474), (1.178469202, -6.778441957), (0.866025404, -6.5))
        make_face()
        with BuildLine():
            ThreePointArc((-2.5, -6.062177826), (-3, -5.196152423), (-4, -5.196152423))
            ThreePointArc((-4, -5.196152423), (-4.409805245, -5.281068332), (-4.789473684, -5.104991854))
            ThreePointArc((-4.789473684, -5.104991854), (-3.5, -6.062177826), (-2.026315789, -6.700301808))
            ThreePointArc((-2.026315789, -6.700301808), (-2.368636712, -6.459537534), (-2.5, -6.062177826))
        make_face()
        with BuildLine():
            ThreePointArc((-5.196152423, -4), (-5.196152423, -3), (-6.062177826, -2.5))
            ThreePointArc((-6.062177826, -2.5), (-6.459537534, -2.368636712), (-6.700301808, -2.026315789))
            ThreePointArc((-6.700301808, -2.026315789), (-6.062177826, -3.5), (-5.104991854, -4.789473684))
            ThreePointArc((-5.104991854, -4.789473684), (-5.281068332, -4.409805245), (-5.196152423, -4))
        make_face()
        with BuildLine():
            ThreePointArc((-6.5, -0.866025404), (-6, 0), (-6.5, 0.866025404))
            ThreePointArc((-6.5, 0.866025404), (-6.778441957, 1.178469202), (-6.815789474, 1.595309954))
            ThreePointArc((-6.815789474, 1.595309954), (-7, 0), (-6.815789474, -1.595309954))
            ThreePointArc((-6.815789474, -1.595309954), (-6.778441957, -1.178469202), (-6.5, -0.866025404))
        make_face()
        with BuildLine():
            ThreePointArc((-6.062177826, 2.5), (-5.196152423, 3), (-5.196152423, 4))
            ThreePointArc((-5.196152423, 4), (-5.281068332, 4.409805245), (-5.104991854, 4.789473684))
            ThreePointArc((-5.104991854, 4.789473684), (-6.062177826, 3.5), (-6.700301808, 2.026315789))
            ThreePointArc((-6.700301808, 2.026315789), (-6.459537534, 2.368636712), (-6.062177826, 2.5))
        make_face()
        with BuildLine():
            ThreePointArc((-4, 5.196152423), (-3, 5.196152423), (-2.5, 6.062177826))
            ThreePointArc((-2.5, 6.062177826), (-2.368636712, 6.459537534), (-2.026315789, 6.700301808))
            ThreePointArc((-2.026315789, 6.700301808), (-3.5, 6.062177826), (-4.789473684, 5.104991854))
            ThreePointArc((-4.789473684, 5.104991854), (-4.409805245, 5.281068332), (-4, 5.196152423))
        make_face()
    extrude(amount=-KNURL_CUTTING_TOOL_DEPTH, mode=Mode.SUBTRACT)

    # Fillet1
    fillet1_edges = [part.edges().sort_by_distance(p)[0] for p in [
        (1.178469202, 10, 6.778441957),
        (0, 10, 6),
        (-1.178469202, 10, 6.778441957),
        (4.409805245, 10, 5.281068332),
        (3, 10, 5.196152423),
        (2.368636712, 10, 6.459537534),
        (6.459537534, 10, 2.368636712),
        (5.196152423, 10, 3),
        (5.281068332, 10, 4.409805245),
        (6.778441957, 10, -1.178469202),
        (6, 10, 0),
        (6.778441957, 10, 1.178469202),
        (5.281068332, 10, -4.409805245),
        (5.196152423, 10, -3),
        (6.459537534, 10, -2.368636712),
        (2.368636712, 10, -6.459537534),
        (3, 10, -5.196152423),
        (4.409805245, 10, -5.281068332),
        (-6.778441957, 10, 1.178469202),
        (-6, 10, 0),
        (-6.778441957, 10, -1.178469202),
        (-6.459537534, 10, -2.368636712),
        (-5.196152423, 10, -3),
        (-5.281068332, 10, -4.409805245),
        (-4.409805245, 10, -5.281068332),
        (-3, 10, -5.196152423),
        (-2.368636712, 10, -6.459537534),
        (-1.178469202, 10, -6.778441957),
        (0, 10, -6),
        (1.178469202, 10, -6.778441957),
        (1.811733316, 10, 6.761480784),
        (4.949747468, 10, 4.949747468),
        (6.761480784, 10, 1.811733316),
        (6.761480784, 10, -1.811733316),
        (4.949747468, 10, -4.949747468),
        (1.811733316, 10, -6.761480784),
        (-1.811733316, 10, -6.761480784),
        (-4.949747468, 10, -4.949747468),
        (-6.761480784, 10, -1.811733316),
        (-6.761480784, 10, 1.811733316),
        (-4.949747468, 10, 4.949747468),
        (-1.811733316, 10, 6.761480784),
        (-5.281068332, 10, 4.409805245),
        (-5.196152423, 10, 3),
        (-6.459537534, 10, 2.368636712),
        (-2.368636712, 10, 6.459537534),
        (-3, 10, 5.196152423),
        (-4.409805245, 10, 5.281068332),
    ]]
    fillet(fillet1_edges, radius=FILLET1_R)


solid = part.part
